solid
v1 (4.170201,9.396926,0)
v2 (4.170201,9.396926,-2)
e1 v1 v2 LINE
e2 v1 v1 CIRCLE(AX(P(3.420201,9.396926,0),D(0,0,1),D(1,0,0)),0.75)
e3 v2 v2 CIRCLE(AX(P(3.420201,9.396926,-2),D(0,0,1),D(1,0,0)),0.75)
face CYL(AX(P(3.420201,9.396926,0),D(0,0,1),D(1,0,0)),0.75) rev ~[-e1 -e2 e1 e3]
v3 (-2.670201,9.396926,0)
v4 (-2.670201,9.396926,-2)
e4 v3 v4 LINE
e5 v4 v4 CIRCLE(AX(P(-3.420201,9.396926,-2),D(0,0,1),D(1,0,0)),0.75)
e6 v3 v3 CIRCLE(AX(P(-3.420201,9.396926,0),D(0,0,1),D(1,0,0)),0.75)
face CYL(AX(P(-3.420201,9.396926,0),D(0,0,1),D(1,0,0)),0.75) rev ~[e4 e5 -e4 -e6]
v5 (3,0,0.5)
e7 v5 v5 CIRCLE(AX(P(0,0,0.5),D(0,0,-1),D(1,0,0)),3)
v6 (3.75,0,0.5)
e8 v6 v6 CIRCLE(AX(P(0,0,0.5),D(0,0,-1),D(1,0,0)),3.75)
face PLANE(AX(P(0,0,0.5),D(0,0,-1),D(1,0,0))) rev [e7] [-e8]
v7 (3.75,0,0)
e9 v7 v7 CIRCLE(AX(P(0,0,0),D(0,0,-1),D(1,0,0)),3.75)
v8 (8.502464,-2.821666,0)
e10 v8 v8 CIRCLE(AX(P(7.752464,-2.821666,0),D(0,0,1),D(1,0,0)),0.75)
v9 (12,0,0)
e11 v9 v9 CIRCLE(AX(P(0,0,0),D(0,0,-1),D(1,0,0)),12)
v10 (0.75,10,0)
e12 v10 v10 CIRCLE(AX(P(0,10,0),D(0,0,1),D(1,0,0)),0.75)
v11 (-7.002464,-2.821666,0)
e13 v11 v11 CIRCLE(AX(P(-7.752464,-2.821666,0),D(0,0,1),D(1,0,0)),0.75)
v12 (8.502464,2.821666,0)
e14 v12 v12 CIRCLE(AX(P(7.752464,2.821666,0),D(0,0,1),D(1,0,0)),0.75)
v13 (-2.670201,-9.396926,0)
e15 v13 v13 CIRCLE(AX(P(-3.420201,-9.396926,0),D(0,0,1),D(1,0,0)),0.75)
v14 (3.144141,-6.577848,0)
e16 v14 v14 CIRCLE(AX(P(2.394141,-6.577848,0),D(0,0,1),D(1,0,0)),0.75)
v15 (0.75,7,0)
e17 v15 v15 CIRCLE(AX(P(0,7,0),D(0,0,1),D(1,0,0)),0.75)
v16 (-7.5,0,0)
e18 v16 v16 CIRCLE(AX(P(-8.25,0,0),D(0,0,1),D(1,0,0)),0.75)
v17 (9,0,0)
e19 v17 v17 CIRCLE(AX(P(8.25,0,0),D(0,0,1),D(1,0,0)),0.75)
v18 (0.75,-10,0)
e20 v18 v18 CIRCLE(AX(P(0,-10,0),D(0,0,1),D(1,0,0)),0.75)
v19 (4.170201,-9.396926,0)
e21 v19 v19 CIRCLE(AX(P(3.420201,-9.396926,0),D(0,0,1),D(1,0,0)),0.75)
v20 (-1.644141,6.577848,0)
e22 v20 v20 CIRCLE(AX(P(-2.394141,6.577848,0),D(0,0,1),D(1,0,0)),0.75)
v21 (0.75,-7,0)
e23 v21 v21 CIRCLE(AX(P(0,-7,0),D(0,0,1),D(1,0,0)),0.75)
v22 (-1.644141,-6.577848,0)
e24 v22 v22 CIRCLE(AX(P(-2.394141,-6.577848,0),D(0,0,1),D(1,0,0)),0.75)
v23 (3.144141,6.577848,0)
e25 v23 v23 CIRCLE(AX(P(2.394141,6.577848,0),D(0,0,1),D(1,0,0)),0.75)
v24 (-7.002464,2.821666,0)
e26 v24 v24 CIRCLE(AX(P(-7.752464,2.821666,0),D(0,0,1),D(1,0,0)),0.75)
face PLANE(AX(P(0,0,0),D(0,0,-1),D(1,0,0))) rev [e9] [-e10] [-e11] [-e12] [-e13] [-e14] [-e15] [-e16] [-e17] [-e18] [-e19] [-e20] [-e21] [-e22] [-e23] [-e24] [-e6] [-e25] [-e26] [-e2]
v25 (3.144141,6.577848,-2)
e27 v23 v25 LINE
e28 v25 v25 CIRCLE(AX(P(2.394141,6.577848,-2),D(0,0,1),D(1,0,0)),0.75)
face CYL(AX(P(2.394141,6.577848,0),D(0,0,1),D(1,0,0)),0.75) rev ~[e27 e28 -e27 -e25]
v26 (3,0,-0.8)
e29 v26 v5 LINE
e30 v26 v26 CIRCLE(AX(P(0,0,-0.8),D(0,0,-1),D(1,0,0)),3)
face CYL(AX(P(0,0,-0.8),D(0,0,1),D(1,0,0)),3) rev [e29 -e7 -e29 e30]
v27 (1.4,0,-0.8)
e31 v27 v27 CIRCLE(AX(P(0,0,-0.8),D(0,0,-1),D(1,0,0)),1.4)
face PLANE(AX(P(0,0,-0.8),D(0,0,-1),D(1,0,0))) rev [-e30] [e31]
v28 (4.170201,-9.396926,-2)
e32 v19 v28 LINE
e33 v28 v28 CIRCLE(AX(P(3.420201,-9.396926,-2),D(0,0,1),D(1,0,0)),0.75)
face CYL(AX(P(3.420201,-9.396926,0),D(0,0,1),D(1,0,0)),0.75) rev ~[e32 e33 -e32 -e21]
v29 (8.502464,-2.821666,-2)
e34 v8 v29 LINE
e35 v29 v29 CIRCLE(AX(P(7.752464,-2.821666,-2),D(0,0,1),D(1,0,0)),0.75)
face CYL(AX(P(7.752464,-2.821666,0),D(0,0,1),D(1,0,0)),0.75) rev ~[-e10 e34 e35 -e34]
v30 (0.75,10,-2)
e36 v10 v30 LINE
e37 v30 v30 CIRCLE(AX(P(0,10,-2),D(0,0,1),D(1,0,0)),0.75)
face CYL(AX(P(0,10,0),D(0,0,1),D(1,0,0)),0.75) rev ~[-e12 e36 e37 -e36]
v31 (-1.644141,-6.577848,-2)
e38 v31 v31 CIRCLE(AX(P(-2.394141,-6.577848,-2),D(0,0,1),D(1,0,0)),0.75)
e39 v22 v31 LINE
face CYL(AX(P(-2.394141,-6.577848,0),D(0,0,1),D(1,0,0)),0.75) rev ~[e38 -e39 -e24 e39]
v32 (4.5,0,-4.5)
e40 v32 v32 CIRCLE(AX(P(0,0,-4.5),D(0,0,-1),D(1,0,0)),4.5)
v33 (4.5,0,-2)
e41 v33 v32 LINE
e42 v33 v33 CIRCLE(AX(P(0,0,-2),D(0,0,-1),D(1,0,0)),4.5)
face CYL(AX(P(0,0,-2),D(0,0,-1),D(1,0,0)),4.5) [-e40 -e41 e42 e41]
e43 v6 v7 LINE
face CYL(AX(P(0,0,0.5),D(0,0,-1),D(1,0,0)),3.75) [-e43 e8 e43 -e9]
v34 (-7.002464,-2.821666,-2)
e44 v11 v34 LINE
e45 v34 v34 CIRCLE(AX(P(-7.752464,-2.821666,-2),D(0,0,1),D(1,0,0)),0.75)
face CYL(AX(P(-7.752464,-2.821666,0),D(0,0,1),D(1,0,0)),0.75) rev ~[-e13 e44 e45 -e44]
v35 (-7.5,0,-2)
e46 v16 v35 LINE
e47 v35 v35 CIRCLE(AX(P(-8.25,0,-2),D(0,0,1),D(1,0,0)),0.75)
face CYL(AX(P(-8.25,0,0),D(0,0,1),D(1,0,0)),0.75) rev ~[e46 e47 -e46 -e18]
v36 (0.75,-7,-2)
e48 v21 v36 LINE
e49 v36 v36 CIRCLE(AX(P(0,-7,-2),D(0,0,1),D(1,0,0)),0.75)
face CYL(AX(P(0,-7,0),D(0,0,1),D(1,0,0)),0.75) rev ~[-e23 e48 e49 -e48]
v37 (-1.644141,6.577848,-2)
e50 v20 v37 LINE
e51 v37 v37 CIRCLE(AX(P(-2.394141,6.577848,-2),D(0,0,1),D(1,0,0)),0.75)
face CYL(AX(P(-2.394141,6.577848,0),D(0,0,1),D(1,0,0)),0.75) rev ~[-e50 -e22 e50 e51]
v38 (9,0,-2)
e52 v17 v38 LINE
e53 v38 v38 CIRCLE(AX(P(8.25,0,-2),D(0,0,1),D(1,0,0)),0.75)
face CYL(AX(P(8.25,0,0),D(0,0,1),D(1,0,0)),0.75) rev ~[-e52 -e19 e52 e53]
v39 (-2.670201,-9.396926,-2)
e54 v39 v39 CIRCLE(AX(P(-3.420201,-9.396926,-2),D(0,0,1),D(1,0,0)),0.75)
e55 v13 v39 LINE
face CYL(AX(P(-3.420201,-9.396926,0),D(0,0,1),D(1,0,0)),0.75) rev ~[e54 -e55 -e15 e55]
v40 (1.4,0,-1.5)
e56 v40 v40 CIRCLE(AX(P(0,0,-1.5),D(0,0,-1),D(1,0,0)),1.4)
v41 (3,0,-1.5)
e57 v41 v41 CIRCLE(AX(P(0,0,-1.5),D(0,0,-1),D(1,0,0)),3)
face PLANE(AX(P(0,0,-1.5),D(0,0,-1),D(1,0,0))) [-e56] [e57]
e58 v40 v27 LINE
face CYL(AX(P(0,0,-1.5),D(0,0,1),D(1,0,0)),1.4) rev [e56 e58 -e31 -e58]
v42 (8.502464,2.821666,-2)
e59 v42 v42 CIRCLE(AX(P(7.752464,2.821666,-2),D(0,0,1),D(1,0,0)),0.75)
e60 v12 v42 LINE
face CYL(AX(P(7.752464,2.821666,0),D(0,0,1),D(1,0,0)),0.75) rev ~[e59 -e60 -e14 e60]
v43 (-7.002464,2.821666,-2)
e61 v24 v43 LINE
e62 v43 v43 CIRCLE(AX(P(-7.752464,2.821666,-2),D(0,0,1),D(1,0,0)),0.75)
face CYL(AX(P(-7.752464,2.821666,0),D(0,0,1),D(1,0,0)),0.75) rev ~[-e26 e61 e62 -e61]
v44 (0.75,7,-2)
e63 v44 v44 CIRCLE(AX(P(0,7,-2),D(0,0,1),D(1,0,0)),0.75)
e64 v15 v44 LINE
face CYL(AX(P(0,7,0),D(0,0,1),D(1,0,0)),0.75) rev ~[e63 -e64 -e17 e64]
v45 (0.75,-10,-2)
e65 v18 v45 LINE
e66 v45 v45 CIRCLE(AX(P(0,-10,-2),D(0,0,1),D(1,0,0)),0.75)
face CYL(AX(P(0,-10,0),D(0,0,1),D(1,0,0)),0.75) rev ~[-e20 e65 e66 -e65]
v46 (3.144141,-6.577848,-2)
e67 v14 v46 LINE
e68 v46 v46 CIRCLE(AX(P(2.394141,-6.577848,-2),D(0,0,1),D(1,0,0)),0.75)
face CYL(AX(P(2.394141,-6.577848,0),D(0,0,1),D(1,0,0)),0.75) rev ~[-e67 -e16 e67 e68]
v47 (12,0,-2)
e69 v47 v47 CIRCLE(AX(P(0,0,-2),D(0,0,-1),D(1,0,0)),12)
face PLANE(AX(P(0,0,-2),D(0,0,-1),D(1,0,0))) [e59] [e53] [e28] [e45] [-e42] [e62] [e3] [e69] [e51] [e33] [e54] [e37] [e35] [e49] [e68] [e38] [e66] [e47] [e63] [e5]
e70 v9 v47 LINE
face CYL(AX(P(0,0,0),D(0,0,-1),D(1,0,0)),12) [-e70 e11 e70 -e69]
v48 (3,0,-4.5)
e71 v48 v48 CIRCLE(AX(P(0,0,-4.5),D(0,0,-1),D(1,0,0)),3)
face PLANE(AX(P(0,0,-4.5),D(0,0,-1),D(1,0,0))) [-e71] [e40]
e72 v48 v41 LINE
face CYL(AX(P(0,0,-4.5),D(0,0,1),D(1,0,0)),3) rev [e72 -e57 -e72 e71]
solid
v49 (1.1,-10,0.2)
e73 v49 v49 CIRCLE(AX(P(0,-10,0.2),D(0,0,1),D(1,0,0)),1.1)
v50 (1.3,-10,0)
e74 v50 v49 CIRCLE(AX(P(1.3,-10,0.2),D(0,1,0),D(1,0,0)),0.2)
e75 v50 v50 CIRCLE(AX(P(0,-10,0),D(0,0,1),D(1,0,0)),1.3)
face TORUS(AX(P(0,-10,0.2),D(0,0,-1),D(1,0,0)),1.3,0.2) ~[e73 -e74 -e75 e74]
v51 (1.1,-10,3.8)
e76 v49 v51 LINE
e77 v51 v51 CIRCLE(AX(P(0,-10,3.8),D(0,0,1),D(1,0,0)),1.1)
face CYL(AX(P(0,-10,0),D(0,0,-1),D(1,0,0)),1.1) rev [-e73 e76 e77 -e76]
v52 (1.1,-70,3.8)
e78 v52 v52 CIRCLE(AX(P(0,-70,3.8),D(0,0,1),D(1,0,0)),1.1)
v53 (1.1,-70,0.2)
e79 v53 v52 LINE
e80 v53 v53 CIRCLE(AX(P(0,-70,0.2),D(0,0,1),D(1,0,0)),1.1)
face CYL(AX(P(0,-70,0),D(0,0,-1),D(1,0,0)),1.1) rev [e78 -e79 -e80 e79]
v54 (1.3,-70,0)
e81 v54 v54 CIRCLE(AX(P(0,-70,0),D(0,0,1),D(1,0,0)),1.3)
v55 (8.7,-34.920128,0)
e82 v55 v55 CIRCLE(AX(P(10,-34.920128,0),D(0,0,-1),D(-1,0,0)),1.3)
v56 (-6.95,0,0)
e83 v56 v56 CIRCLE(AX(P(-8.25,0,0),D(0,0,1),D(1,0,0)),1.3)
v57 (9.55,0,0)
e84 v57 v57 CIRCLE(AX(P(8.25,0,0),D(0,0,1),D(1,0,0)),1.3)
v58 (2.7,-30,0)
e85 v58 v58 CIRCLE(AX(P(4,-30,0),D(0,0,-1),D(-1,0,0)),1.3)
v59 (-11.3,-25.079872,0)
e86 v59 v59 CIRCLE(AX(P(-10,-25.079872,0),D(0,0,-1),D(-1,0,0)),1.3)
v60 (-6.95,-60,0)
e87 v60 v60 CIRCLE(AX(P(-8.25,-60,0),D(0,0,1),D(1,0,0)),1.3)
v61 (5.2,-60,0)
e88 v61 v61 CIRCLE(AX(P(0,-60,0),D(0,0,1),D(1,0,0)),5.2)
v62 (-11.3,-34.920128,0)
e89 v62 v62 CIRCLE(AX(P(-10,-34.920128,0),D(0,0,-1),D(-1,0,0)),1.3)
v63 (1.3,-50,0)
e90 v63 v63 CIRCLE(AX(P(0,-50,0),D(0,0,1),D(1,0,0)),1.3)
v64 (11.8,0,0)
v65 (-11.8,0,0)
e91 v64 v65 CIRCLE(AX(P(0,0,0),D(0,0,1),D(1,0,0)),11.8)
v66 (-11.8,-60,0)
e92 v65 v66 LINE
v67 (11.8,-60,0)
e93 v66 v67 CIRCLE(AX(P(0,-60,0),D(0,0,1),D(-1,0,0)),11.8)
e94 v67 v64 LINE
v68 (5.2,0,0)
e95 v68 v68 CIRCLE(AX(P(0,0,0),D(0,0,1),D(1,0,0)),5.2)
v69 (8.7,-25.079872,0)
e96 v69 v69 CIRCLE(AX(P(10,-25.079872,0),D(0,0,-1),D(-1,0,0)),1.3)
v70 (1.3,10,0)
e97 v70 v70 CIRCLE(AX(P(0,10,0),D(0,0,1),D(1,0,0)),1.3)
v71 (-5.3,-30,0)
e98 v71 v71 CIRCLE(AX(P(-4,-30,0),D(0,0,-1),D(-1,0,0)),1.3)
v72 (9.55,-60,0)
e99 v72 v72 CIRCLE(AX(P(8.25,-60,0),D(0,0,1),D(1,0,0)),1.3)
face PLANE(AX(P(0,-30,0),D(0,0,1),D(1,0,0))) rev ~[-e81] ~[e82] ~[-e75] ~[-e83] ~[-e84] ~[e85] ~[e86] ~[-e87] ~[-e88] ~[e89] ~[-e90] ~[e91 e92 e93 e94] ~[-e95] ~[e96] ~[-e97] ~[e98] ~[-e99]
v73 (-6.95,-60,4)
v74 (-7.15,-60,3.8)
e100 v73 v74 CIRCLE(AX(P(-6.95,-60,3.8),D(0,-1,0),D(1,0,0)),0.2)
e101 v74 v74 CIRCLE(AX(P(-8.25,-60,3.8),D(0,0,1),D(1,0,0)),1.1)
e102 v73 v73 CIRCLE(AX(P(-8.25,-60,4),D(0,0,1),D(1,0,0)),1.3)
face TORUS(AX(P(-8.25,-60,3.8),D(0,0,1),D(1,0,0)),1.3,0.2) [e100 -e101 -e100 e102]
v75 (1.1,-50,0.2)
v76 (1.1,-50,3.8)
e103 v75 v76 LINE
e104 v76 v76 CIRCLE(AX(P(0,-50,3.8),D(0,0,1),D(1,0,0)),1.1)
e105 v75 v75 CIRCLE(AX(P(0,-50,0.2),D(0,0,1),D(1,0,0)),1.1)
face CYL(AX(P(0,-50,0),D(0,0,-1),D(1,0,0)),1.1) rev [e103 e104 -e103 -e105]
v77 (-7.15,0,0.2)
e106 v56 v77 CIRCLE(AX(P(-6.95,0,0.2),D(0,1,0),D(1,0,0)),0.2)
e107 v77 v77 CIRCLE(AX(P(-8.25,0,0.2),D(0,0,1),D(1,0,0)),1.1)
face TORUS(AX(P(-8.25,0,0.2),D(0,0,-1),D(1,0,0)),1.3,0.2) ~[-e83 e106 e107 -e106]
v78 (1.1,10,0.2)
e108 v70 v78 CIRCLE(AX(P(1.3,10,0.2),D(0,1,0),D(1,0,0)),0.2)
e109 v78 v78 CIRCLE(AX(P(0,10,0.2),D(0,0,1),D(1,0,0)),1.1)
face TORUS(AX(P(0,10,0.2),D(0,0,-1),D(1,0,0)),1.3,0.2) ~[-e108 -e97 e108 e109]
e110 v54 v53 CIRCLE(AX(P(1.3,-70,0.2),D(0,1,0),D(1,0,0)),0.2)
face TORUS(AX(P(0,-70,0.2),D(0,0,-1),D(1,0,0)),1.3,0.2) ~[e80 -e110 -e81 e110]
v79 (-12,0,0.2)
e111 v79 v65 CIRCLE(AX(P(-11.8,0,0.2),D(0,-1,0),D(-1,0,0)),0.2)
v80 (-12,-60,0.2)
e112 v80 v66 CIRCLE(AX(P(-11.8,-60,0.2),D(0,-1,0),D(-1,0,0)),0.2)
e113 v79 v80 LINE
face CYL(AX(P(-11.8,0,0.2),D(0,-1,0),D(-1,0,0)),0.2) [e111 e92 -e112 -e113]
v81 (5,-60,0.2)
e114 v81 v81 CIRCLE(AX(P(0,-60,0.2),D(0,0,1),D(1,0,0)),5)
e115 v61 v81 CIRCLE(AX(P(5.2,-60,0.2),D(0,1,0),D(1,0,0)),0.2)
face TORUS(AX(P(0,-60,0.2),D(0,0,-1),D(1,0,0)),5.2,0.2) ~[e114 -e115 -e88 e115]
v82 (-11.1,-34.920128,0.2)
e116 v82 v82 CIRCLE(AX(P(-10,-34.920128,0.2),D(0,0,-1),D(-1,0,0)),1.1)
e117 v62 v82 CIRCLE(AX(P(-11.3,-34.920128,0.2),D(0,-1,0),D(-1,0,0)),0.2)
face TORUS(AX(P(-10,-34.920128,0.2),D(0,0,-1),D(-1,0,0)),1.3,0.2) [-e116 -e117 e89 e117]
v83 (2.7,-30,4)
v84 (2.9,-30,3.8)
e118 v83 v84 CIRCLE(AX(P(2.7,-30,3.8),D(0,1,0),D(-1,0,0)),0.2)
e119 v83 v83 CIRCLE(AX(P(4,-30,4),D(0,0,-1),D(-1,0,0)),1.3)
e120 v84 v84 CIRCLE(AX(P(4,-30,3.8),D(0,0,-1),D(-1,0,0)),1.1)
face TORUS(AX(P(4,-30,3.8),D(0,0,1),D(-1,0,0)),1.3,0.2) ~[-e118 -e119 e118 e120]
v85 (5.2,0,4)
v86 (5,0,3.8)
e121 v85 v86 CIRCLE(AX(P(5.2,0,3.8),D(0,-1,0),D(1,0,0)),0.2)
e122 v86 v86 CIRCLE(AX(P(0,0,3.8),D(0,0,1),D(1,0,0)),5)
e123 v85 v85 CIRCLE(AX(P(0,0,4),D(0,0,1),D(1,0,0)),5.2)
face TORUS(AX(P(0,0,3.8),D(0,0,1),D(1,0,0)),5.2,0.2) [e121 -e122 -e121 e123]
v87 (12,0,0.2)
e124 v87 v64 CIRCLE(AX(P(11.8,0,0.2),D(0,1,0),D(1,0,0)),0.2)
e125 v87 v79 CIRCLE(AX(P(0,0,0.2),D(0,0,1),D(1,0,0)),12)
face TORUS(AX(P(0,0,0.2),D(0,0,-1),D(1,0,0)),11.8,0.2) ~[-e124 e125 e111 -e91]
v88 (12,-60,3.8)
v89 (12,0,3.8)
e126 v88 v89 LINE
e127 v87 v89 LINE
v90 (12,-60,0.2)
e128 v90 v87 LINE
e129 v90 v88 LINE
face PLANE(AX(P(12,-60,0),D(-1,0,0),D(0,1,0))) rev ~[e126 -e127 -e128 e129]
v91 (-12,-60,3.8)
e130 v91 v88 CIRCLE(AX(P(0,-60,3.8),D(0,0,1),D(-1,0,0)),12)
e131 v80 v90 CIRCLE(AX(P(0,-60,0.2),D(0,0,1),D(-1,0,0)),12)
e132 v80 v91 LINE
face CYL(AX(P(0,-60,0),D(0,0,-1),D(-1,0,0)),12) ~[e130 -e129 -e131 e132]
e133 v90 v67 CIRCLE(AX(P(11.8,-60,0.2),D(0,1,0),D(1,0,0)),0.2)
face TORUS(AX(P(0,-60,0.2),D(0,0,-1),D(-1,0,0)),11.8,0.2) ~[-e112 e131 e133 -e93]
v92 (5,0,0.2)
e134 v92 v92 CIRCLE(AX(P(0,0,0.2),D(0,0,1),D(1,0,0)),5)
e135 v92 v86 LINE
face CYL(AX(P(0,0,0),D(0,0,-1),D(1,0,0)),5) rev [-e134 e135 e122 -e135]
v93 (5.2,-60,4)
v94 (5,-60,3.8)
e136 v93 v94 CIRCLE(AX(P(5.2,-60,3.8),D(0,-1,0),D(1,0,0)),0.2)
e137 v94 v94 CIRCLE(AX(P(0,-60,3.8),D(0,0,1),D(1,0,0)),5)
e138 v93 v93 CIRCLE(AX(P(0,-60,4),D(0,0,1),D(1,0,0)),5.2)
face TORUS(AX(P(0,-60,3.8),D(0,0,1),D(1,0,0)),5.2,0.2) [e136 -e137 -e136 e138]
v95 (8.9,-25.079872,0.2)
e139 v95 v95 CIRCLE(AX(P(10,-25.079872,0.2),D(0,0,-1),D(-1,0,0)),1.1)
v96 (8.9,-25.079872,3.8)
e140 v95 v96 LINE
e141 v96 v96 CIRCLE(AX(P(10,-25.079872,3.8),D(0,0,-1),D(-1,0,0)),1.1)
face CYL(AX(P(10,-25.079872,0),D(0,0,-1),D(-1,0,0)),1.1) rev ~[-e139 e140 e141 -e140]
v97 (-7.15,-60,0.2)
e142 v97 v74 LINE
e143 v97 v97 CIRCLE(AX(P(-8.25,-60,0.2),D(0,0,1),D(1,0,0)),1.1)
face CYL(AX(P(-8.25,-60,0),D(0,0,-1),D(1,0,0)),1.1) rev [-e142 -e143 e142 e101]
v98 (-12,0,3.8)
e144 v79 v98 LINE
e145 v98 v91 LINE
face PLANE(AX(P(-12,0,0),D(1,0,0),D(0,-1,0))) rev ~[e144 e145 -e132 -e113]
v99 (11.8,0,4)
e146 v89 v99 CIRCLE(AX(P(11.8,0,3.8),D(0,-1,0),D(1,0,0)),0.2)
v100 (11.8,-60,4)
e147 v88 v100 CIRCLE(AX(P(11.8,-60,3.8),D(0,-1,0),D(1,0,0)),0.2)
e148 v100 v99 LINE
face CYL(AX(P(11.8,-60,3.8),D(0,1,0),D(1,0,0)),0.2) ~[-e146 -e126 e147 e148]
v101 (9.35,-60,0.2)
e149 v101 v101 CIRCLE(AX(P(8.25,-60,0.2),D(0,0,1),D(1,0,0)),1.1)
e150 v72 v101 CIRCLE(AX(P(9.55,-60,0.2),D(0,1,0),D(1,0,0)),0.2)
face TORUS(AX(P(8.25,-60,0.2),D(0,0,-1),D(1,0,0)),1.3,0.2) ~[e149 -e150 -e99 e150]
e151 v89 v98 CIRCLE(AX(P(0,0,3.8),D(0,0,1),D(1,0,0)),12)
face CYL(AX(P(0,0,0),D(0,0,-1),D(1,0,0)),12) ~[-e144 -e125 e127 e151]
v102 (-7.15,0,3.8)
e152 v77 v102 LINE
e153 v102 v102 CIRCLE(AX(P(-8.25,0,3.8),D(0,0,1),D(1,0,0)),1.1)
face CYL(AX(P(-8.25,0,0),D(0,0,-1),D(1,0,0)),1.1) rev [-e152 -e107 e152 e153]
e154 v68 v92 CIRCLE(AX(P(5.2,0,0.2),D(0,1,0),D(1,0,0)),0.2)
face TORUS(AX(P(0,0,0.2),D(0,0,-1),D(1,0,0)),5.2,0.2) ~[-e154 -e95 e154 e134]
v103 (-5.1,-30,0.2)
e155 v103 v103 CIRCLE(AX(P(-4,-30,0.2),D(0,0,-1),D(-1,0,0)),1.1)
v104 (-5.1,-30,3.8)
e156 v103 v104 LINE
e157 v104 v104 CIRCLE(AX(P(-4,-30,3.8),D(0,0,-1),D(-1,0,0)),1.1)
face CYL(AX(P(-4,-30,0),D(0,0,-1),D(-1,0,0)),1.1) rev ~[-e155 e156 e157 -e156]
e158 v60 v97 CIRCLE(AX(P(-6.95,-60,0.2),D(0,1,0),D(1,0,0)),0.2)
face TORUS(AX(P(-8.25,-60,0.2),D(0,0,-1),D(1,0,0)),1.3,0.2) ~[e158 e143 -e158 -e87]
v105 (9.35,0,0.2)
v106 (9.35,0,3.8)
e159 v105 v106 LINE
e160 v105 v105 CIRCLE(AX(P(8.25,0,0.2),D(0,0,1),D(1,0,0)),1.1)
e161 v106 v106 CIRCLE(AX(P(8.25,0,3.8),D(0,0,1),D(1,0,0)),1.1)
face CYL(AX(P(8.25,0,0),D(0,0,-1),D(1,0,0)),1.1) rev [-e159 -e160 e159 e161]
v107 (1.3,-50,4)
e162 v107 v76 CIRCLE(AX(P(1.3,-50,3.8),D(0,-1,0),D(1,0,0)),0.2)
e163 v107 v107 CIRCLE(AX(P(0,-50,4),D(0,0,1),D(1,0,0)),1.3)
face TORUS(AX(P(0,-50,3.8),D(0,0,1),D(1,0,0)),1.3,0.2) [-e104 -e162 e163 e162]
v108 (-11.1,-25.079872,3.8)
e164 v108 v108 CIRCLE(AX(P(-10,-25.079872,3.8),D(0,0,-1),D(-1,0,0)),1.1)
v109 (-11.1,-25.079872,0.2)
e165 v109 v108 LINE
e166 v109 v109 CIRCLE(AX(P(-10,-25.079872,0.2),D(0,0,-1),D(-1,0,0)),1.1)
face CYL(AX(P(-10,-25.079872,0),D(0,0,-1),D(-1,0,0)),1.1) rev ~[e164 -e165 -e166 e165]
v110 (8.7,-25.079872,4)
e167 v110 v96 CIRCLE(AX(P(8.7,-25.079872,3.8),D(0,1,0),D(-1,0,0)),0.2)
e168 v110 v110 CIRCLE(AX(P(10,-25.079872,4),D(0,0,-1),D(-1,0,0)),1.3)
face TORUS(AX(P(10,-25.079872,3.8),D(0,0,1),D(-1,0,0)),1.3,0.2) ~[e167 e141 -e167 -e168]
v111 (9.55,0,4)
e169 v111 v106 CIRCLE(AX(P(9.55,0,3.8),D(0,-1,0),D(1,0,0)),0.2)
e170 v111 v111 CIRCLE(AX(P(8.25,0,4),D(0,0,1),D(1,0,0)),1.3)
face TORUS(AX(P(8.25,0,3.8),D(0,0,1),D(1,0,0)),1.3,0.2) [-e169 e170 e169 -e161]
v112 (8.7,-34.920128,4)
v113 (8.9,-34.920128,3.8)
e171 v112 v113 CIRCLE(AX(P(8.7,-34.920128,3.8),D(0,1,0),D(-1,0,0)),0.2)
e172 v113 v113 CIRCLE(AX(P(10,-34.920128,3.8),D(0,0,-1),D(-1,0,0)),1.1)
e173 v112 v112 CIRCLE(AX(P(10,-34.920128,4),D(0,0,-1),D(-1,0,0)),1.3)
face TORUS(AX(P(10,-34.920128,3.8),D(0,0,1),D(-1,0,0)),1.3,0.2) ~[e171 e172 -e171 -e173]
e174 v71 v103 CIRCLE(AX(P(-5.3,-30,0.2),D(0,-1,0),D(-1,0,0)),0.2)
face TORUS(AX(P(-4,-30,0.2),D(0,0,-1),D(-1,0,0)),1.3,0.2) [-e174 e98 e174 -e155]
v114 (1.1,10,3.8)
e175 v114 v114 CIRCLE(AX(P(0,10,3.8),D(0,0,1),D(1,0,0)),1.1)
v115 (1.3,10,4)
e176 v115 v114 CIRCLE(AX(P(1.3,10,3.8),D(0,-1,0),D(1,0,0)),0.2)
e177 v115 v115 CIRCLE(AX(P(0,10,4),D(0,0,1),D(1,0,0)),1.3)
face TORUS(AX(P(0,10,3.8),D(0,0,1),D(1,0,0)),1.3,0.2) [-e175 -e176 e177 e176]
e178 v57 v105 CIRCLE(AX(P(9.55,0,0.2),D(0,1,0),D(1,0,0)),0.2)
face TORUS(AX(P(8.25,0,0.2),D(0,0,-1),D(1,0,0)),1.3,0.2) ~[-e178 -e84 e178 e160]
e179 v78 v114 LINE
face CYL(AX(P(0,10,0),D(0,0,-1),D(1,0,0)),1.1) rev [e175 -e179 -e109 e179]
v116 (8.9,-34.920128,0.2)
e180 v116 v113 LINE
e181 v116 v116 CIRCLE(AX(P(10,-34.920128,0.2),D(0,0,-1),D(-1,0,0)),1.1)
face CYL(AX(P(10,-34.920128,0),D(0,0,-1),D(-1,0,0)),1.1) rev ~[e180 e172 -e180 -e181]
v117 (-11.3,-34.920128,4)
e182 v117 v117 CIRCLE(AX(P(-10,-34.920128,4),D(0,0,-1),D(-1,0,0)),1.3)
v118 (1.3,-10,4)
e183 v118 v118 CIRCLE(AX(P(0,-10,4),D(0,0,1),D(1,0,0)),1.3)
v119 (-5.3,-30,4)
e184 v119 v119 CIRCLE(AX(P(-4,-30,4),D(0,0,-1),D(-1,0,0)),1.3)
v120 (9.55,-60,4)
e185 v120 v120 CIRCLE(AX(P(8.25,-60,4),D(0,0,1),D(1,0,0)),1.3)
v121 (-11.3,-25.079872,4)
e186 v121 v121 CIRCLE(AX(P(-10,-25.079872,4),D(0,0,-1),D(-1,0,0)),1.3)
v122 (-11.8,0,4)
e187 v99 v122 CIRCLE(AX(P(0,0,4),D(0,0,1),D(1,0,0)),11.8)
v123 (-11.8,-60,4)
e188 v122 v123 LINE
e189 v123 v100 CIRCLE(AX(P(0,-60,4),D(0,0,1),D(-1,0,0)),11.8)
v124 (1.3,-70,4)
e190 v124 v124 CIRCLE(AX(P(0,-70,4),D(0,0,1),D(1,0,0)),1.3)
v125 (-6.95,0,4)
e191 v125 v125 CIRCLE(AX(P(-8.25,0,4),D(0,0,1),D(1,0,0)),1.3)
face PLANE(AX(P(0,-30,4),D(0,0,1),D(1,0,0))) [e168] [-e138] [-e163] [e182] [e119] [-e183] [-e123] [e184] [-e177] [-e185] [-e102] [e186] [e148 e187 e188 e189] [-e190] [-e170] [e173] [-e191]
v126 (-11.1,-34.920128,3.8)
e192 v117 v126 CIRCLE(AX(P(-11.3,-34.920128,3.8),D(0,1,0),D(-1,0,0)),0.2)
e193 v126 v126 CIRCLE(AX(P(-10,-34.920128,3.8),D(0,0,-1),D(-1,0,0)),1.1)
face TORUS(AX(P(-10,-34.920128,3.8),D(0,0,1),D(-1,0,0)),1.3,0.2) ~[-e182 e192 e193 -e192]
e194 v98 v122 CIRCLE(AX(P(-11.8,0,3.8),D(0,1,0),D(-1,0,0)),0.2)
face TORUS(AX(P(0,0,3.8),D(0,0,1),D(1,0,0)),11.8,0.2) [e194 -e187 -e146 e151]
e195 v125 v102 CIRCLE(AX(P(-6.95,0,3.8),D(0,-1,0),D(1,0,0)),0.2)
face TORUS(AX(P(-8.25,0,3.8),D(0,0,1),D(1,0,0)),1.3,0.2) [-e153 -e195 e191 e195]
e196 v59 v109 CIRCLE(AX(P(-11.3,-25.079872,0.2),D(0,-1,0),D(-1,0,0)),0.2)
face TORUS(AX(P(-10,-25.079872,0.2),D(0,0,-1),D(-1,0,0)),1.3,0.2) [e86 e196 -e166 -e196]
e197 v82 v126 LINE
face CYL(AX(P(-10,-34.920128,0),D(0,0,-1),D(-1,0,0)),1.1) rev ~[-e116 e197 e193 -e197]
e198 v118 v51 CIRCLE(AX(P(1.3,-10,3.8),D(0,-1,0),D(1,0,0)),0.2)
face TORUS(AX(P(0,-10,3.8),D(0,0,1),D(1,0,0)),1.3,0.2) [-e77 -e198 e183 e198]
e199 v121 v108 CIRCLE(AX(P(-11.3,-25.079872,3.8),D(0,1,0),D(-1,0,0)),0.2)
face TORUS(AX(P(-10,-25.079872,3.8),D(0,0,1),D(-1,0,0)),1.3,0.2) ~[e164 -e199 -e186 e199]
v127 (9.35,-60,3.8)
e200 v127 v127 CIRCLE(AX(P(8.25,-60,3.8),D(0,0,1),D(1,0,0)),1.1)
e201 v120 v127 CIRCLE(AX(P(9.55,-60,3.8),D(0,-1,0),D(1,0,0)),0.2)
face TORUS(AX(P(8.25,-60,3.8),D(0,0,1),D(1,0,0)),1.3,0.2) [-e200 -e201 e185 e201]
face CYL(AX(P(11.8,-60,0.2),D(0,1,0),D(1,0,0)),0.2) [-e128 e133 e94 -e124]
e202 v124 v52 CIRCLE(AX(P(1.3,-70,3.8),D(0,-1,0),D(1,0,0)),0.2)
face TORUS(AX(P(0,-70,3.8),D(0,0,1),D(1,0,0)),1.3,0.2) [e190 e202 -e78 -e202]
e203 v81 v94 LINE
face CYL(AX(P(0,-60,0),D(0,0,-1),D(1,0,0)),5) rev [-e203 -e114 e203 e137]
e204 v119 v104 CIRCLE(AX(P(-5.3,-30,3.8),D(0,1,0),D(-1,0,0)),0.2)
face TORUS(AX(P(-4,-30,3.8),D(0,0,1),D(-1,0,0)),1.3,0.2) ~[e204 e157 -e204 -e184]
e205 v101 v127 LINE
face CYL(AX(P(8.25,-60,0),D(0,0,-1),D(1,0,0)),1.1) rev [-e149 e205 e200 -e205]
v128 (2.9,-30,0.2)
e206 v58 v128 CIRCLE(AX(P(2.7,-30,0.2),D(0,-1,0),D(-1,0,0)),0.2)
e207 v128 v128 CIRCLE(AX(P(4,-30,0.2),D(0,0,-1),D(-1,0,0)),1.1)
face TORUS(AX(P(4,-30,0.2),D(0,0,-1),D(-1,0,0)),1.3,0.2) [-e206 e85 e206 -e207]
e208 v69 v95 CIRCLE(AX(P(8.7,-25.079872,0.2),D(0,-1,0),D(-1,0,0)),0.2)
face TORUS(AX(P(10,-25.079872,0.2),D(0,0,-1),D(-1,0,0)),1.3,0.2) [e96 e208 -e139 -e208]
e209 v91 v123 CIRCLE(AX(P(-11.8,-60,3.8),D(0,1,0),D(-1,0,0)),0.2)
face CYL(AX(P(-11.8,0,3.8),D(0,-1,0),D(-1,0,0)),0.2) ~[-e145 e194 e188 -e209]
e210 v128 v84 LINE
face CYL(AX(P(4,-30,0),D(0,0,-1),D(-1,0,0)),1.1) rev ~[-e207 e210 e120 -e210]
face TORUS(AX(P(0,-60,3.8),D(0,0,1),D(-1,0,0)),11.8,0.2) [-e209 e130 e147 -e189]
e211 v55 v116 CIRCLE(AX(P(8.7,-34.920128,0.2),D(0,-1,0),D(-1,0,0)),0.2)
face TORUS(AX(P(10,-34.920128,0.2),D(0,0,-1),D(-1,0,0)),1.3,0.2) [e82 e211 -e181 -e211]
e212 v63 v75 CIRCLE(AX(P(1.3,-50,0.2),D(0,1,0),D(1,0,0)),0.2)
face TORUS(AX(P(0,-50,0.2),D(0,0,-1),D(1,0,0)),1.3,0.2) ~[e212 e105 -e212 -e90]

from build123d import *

# Parameters (mm, degrees)
SKETCH_2_R            = 0.75
CUT_EXTRUDE_1_DEPTH   = 18.557049866
SKETCH_1_2_R          = 5
SKETCH_1_2_R_2        = 1.1
EXTRUDE_1_DEPTH       = 4
SKETCH_2_2_R          = 1.1
CUT_EXTRUDE_1_2_DEPTH = 74.131730459
FILLET_1_R            = 0.2


with BuildPart() as part:
    # Sketch 1 → Повернуть1 (revolve)
    with BuildSketch(Plane(origin=(0, 0, 0), x_dir=(0, 0, -1), z_dir=(1, 0, 0)), mode=Mode.PRIVATE) as revolve_1_sk:
        Polygon((0, 3.75), (0, 12), (2, 12), (2, 4.5), (4.5, 4.5), (4.5, 3), (1.5, 3), (1.5, 1.4), (0.8, 1.4), (0.8, 3), (-0.5, 3), (-0.5, 3.75), align=None)
    revolve(revolve_1_sk.sketch.rotate(Axis((0, 0, 50), (0, 0, -1)), 90), axis=Axis((0, 0, 50), (0, 0, -1)))

    # Sketch 2 → Cut-Extrude 1 (cut, through all)
    with BuildSketch(Plane.XY):
        with Locations((8.25, 0)):
            Circle(SKETCH_2_R)
        with Locations((7.752464121, -2.821666182)):
            Circle(SKETCH_2_R)
        with Locations((7.752464121, 2.821666182)):
            Circle(SKETCH_2_R)
        with Locations((-8.25, 0)):
            Circle(SKETCH_2_R)
        with Locations((-7.752464121, -2.821666182)):
            Circle(SKETCH_2_R)
        with Locations((-7.752464121, 2.821666182)):
            Circle(SKETCH_2_R)
        with Locations((0, 7)):
            Circle(SKETCH_2_R)
        with Locations((0, 10)):
            Circle(SKETCH_2_R)
        with Locations((2.394141003, 6.577848346)):
            Circle(SKETCH_2_R)
        with Locations((3.420201433, 9.396926208)):
            Circle(SKETCH_2_R)
        with Locations((-2.394141003, 6.577848346)):
            Circle(SKETCH_2_R)
        with Locations((-3.420201433, 9.396926208)):
            Circle(SKETCH_2_R)
        with Locations((0, -7)):
            Circle(SKETCH_2_R)
        with Locations((0, -10)):
            Circle(SKETCH_2_R)
        with Locations((3.420201433, -9.396926208)):
            Circle(SKETCH_2_R)
        with Locations((2.394141003, -6.577848346)):
            Circle(SKETCH_2_R)
        with Locations((-2.394141003, -6.577848346)):
            Circle(SKETCH_2_R)
        with Locations((-3.420201433, -9.396926208)):
            Circle(SKETCH_2_R)
    extrude(amount=-CUT_EXTRUDE_1_DEPTH, mode=Mode.SUBTRACT)


with BuildPart() as body_2:
    # Sketch 1 2 → 보스-돌출1 (new body)
    with BuildSketch(Plane.XY):
        with BuildLine():
            Line((-12, 0), (-12, -60))
            ThreePointArc((-12, -60), (0, -72), (12, -60))
            Line((12, -60), (12, 0))
            ThreePointArc((12, 0), (0, 12), (-12, 0))
        make_face()
        Circle(SKETCH_1_2_R, mode=Mode.SUBTRACT)
        with Locations((0, -60)):
            Circle(SKETCH_1_2_R, mode=Mode.SUBTRACT)
        with Locations((-8.25, 0)):
            Circle(SKETCH_1_2_R_2, mode=Mode.SUBTRACT)
        with Locations((0, 10)):
            Circle(SKETCH_1_2_R_2, mode=Mode.SUBTRACT)
        with Locations((8.25, 0)):
            Circle(SKETCH_1_2_R_2, mode=Mode.SUBTRACT)
        with Locations((0, -10)):
            Circle(SKETCH_1_2_R_2, mode=Mode.SUBTRACT)
        with Locations((0, -50)):
            Circle(SKETCH_1_2_R_2, mode=Mode.SUBTRACT)
        with Locations((8.25, -60)):
            Circle(SKETCH_1_2_R_2, mode=Mode.SUBTRACT)
        with Locations((-8.25, -60)):
            Circle(SKETCH_1_2_R_2, mode=Mode.SUBTRACT)
        with Locations((0, -70)):
            Circle(SKETCH_1_2_R_2, mode=Mode.SUBTRACT)
    extrude(amount=EXTRUDE_1_DEPTH)

    # Sketch 2 2 → Cut-Extrude 1 2 (cut, through all)
    with BuildSketch(Plane(origin=(0, 0, 0), x_dir=(-1, 0, 0), z_dir=(0, 0, -1))):
        with Locations((-10, -25.079872408)):
            Circle(SKETCH_2_2_R)
        with Locations((-4, -30)):
            Circle(SKETCH_2_2_R)
        with Locations((4, -30)):
            Circle(SKETCH_2_2_R)
        with Locations((10, -25.079872408)):
            Circle(SKETCH_2_2_R)
        with Locations((10, -34.920127592)):
            Circle(SKETCH_2_2_R)
        with Locations((-10, -34.920127592)):
            Circle(SKETCH_2_2_R)
    extrude(amount=-CUT_EXTRUDE_1_2_DEPTH, mode=Mode.SUBTRACT)

    # 필렛1
    fillet_1_edges = [body_2.edges().sort_by_distance(p)[0] for p in [
        (-9.35, -60, 4),
        (-5, 0, 0),
        (-9.35, 0, 0),
        (-1.1, 10, 0),
        (7.15, 0, 0),
        (-1.1, -10, 0),
        (-1.1, -50, 4),
        (-1.1, -70, 0),
        (7.15, -60, 0),
        (-5, -60, 0),
        (-12, -30, 0),
        (0, 12, 0),
        (12, -30, 0),
        (0, -72, 0),
        (-1.1, -50, 0),
        (-9.35, -60, 0),
        (0, -72, 4),
        (12, -30, 4),
        (0, 12, 4),
        (-12, -30, 4),
        (-5, -60, 4),
        (7.15, -60, 4),
        (11.1, -34.920127592, 4),
        (11.1, -34.920127592, 0),
        (-1.1, -70, 4),
        (5.1, -30, 4),
        (5.1, -30, 0),
        (-2.9, -30, 4),
        (-2.9, -30, 0),
        (-8.9, -25.079872408, 4),
        (-8.9, -25.079872408, 0),
        (-1.1, -10, 4),
        (-8.9, -34.920127592, 4),
        (-8.9, -34.920127592, 0),
        (11.1, -25.079872408, 4),
        (11.1, -25.079872408, 0),
        (7.15, 0, 4),
        (-1.1, 10, 4),
        (-9.35, 0, 4),
        (-5, 0, 4),
    ]]
    fillet(fillet_1_edges, radius=FILLET_1_R)


solid = Compound([part.part, body_2.part])
